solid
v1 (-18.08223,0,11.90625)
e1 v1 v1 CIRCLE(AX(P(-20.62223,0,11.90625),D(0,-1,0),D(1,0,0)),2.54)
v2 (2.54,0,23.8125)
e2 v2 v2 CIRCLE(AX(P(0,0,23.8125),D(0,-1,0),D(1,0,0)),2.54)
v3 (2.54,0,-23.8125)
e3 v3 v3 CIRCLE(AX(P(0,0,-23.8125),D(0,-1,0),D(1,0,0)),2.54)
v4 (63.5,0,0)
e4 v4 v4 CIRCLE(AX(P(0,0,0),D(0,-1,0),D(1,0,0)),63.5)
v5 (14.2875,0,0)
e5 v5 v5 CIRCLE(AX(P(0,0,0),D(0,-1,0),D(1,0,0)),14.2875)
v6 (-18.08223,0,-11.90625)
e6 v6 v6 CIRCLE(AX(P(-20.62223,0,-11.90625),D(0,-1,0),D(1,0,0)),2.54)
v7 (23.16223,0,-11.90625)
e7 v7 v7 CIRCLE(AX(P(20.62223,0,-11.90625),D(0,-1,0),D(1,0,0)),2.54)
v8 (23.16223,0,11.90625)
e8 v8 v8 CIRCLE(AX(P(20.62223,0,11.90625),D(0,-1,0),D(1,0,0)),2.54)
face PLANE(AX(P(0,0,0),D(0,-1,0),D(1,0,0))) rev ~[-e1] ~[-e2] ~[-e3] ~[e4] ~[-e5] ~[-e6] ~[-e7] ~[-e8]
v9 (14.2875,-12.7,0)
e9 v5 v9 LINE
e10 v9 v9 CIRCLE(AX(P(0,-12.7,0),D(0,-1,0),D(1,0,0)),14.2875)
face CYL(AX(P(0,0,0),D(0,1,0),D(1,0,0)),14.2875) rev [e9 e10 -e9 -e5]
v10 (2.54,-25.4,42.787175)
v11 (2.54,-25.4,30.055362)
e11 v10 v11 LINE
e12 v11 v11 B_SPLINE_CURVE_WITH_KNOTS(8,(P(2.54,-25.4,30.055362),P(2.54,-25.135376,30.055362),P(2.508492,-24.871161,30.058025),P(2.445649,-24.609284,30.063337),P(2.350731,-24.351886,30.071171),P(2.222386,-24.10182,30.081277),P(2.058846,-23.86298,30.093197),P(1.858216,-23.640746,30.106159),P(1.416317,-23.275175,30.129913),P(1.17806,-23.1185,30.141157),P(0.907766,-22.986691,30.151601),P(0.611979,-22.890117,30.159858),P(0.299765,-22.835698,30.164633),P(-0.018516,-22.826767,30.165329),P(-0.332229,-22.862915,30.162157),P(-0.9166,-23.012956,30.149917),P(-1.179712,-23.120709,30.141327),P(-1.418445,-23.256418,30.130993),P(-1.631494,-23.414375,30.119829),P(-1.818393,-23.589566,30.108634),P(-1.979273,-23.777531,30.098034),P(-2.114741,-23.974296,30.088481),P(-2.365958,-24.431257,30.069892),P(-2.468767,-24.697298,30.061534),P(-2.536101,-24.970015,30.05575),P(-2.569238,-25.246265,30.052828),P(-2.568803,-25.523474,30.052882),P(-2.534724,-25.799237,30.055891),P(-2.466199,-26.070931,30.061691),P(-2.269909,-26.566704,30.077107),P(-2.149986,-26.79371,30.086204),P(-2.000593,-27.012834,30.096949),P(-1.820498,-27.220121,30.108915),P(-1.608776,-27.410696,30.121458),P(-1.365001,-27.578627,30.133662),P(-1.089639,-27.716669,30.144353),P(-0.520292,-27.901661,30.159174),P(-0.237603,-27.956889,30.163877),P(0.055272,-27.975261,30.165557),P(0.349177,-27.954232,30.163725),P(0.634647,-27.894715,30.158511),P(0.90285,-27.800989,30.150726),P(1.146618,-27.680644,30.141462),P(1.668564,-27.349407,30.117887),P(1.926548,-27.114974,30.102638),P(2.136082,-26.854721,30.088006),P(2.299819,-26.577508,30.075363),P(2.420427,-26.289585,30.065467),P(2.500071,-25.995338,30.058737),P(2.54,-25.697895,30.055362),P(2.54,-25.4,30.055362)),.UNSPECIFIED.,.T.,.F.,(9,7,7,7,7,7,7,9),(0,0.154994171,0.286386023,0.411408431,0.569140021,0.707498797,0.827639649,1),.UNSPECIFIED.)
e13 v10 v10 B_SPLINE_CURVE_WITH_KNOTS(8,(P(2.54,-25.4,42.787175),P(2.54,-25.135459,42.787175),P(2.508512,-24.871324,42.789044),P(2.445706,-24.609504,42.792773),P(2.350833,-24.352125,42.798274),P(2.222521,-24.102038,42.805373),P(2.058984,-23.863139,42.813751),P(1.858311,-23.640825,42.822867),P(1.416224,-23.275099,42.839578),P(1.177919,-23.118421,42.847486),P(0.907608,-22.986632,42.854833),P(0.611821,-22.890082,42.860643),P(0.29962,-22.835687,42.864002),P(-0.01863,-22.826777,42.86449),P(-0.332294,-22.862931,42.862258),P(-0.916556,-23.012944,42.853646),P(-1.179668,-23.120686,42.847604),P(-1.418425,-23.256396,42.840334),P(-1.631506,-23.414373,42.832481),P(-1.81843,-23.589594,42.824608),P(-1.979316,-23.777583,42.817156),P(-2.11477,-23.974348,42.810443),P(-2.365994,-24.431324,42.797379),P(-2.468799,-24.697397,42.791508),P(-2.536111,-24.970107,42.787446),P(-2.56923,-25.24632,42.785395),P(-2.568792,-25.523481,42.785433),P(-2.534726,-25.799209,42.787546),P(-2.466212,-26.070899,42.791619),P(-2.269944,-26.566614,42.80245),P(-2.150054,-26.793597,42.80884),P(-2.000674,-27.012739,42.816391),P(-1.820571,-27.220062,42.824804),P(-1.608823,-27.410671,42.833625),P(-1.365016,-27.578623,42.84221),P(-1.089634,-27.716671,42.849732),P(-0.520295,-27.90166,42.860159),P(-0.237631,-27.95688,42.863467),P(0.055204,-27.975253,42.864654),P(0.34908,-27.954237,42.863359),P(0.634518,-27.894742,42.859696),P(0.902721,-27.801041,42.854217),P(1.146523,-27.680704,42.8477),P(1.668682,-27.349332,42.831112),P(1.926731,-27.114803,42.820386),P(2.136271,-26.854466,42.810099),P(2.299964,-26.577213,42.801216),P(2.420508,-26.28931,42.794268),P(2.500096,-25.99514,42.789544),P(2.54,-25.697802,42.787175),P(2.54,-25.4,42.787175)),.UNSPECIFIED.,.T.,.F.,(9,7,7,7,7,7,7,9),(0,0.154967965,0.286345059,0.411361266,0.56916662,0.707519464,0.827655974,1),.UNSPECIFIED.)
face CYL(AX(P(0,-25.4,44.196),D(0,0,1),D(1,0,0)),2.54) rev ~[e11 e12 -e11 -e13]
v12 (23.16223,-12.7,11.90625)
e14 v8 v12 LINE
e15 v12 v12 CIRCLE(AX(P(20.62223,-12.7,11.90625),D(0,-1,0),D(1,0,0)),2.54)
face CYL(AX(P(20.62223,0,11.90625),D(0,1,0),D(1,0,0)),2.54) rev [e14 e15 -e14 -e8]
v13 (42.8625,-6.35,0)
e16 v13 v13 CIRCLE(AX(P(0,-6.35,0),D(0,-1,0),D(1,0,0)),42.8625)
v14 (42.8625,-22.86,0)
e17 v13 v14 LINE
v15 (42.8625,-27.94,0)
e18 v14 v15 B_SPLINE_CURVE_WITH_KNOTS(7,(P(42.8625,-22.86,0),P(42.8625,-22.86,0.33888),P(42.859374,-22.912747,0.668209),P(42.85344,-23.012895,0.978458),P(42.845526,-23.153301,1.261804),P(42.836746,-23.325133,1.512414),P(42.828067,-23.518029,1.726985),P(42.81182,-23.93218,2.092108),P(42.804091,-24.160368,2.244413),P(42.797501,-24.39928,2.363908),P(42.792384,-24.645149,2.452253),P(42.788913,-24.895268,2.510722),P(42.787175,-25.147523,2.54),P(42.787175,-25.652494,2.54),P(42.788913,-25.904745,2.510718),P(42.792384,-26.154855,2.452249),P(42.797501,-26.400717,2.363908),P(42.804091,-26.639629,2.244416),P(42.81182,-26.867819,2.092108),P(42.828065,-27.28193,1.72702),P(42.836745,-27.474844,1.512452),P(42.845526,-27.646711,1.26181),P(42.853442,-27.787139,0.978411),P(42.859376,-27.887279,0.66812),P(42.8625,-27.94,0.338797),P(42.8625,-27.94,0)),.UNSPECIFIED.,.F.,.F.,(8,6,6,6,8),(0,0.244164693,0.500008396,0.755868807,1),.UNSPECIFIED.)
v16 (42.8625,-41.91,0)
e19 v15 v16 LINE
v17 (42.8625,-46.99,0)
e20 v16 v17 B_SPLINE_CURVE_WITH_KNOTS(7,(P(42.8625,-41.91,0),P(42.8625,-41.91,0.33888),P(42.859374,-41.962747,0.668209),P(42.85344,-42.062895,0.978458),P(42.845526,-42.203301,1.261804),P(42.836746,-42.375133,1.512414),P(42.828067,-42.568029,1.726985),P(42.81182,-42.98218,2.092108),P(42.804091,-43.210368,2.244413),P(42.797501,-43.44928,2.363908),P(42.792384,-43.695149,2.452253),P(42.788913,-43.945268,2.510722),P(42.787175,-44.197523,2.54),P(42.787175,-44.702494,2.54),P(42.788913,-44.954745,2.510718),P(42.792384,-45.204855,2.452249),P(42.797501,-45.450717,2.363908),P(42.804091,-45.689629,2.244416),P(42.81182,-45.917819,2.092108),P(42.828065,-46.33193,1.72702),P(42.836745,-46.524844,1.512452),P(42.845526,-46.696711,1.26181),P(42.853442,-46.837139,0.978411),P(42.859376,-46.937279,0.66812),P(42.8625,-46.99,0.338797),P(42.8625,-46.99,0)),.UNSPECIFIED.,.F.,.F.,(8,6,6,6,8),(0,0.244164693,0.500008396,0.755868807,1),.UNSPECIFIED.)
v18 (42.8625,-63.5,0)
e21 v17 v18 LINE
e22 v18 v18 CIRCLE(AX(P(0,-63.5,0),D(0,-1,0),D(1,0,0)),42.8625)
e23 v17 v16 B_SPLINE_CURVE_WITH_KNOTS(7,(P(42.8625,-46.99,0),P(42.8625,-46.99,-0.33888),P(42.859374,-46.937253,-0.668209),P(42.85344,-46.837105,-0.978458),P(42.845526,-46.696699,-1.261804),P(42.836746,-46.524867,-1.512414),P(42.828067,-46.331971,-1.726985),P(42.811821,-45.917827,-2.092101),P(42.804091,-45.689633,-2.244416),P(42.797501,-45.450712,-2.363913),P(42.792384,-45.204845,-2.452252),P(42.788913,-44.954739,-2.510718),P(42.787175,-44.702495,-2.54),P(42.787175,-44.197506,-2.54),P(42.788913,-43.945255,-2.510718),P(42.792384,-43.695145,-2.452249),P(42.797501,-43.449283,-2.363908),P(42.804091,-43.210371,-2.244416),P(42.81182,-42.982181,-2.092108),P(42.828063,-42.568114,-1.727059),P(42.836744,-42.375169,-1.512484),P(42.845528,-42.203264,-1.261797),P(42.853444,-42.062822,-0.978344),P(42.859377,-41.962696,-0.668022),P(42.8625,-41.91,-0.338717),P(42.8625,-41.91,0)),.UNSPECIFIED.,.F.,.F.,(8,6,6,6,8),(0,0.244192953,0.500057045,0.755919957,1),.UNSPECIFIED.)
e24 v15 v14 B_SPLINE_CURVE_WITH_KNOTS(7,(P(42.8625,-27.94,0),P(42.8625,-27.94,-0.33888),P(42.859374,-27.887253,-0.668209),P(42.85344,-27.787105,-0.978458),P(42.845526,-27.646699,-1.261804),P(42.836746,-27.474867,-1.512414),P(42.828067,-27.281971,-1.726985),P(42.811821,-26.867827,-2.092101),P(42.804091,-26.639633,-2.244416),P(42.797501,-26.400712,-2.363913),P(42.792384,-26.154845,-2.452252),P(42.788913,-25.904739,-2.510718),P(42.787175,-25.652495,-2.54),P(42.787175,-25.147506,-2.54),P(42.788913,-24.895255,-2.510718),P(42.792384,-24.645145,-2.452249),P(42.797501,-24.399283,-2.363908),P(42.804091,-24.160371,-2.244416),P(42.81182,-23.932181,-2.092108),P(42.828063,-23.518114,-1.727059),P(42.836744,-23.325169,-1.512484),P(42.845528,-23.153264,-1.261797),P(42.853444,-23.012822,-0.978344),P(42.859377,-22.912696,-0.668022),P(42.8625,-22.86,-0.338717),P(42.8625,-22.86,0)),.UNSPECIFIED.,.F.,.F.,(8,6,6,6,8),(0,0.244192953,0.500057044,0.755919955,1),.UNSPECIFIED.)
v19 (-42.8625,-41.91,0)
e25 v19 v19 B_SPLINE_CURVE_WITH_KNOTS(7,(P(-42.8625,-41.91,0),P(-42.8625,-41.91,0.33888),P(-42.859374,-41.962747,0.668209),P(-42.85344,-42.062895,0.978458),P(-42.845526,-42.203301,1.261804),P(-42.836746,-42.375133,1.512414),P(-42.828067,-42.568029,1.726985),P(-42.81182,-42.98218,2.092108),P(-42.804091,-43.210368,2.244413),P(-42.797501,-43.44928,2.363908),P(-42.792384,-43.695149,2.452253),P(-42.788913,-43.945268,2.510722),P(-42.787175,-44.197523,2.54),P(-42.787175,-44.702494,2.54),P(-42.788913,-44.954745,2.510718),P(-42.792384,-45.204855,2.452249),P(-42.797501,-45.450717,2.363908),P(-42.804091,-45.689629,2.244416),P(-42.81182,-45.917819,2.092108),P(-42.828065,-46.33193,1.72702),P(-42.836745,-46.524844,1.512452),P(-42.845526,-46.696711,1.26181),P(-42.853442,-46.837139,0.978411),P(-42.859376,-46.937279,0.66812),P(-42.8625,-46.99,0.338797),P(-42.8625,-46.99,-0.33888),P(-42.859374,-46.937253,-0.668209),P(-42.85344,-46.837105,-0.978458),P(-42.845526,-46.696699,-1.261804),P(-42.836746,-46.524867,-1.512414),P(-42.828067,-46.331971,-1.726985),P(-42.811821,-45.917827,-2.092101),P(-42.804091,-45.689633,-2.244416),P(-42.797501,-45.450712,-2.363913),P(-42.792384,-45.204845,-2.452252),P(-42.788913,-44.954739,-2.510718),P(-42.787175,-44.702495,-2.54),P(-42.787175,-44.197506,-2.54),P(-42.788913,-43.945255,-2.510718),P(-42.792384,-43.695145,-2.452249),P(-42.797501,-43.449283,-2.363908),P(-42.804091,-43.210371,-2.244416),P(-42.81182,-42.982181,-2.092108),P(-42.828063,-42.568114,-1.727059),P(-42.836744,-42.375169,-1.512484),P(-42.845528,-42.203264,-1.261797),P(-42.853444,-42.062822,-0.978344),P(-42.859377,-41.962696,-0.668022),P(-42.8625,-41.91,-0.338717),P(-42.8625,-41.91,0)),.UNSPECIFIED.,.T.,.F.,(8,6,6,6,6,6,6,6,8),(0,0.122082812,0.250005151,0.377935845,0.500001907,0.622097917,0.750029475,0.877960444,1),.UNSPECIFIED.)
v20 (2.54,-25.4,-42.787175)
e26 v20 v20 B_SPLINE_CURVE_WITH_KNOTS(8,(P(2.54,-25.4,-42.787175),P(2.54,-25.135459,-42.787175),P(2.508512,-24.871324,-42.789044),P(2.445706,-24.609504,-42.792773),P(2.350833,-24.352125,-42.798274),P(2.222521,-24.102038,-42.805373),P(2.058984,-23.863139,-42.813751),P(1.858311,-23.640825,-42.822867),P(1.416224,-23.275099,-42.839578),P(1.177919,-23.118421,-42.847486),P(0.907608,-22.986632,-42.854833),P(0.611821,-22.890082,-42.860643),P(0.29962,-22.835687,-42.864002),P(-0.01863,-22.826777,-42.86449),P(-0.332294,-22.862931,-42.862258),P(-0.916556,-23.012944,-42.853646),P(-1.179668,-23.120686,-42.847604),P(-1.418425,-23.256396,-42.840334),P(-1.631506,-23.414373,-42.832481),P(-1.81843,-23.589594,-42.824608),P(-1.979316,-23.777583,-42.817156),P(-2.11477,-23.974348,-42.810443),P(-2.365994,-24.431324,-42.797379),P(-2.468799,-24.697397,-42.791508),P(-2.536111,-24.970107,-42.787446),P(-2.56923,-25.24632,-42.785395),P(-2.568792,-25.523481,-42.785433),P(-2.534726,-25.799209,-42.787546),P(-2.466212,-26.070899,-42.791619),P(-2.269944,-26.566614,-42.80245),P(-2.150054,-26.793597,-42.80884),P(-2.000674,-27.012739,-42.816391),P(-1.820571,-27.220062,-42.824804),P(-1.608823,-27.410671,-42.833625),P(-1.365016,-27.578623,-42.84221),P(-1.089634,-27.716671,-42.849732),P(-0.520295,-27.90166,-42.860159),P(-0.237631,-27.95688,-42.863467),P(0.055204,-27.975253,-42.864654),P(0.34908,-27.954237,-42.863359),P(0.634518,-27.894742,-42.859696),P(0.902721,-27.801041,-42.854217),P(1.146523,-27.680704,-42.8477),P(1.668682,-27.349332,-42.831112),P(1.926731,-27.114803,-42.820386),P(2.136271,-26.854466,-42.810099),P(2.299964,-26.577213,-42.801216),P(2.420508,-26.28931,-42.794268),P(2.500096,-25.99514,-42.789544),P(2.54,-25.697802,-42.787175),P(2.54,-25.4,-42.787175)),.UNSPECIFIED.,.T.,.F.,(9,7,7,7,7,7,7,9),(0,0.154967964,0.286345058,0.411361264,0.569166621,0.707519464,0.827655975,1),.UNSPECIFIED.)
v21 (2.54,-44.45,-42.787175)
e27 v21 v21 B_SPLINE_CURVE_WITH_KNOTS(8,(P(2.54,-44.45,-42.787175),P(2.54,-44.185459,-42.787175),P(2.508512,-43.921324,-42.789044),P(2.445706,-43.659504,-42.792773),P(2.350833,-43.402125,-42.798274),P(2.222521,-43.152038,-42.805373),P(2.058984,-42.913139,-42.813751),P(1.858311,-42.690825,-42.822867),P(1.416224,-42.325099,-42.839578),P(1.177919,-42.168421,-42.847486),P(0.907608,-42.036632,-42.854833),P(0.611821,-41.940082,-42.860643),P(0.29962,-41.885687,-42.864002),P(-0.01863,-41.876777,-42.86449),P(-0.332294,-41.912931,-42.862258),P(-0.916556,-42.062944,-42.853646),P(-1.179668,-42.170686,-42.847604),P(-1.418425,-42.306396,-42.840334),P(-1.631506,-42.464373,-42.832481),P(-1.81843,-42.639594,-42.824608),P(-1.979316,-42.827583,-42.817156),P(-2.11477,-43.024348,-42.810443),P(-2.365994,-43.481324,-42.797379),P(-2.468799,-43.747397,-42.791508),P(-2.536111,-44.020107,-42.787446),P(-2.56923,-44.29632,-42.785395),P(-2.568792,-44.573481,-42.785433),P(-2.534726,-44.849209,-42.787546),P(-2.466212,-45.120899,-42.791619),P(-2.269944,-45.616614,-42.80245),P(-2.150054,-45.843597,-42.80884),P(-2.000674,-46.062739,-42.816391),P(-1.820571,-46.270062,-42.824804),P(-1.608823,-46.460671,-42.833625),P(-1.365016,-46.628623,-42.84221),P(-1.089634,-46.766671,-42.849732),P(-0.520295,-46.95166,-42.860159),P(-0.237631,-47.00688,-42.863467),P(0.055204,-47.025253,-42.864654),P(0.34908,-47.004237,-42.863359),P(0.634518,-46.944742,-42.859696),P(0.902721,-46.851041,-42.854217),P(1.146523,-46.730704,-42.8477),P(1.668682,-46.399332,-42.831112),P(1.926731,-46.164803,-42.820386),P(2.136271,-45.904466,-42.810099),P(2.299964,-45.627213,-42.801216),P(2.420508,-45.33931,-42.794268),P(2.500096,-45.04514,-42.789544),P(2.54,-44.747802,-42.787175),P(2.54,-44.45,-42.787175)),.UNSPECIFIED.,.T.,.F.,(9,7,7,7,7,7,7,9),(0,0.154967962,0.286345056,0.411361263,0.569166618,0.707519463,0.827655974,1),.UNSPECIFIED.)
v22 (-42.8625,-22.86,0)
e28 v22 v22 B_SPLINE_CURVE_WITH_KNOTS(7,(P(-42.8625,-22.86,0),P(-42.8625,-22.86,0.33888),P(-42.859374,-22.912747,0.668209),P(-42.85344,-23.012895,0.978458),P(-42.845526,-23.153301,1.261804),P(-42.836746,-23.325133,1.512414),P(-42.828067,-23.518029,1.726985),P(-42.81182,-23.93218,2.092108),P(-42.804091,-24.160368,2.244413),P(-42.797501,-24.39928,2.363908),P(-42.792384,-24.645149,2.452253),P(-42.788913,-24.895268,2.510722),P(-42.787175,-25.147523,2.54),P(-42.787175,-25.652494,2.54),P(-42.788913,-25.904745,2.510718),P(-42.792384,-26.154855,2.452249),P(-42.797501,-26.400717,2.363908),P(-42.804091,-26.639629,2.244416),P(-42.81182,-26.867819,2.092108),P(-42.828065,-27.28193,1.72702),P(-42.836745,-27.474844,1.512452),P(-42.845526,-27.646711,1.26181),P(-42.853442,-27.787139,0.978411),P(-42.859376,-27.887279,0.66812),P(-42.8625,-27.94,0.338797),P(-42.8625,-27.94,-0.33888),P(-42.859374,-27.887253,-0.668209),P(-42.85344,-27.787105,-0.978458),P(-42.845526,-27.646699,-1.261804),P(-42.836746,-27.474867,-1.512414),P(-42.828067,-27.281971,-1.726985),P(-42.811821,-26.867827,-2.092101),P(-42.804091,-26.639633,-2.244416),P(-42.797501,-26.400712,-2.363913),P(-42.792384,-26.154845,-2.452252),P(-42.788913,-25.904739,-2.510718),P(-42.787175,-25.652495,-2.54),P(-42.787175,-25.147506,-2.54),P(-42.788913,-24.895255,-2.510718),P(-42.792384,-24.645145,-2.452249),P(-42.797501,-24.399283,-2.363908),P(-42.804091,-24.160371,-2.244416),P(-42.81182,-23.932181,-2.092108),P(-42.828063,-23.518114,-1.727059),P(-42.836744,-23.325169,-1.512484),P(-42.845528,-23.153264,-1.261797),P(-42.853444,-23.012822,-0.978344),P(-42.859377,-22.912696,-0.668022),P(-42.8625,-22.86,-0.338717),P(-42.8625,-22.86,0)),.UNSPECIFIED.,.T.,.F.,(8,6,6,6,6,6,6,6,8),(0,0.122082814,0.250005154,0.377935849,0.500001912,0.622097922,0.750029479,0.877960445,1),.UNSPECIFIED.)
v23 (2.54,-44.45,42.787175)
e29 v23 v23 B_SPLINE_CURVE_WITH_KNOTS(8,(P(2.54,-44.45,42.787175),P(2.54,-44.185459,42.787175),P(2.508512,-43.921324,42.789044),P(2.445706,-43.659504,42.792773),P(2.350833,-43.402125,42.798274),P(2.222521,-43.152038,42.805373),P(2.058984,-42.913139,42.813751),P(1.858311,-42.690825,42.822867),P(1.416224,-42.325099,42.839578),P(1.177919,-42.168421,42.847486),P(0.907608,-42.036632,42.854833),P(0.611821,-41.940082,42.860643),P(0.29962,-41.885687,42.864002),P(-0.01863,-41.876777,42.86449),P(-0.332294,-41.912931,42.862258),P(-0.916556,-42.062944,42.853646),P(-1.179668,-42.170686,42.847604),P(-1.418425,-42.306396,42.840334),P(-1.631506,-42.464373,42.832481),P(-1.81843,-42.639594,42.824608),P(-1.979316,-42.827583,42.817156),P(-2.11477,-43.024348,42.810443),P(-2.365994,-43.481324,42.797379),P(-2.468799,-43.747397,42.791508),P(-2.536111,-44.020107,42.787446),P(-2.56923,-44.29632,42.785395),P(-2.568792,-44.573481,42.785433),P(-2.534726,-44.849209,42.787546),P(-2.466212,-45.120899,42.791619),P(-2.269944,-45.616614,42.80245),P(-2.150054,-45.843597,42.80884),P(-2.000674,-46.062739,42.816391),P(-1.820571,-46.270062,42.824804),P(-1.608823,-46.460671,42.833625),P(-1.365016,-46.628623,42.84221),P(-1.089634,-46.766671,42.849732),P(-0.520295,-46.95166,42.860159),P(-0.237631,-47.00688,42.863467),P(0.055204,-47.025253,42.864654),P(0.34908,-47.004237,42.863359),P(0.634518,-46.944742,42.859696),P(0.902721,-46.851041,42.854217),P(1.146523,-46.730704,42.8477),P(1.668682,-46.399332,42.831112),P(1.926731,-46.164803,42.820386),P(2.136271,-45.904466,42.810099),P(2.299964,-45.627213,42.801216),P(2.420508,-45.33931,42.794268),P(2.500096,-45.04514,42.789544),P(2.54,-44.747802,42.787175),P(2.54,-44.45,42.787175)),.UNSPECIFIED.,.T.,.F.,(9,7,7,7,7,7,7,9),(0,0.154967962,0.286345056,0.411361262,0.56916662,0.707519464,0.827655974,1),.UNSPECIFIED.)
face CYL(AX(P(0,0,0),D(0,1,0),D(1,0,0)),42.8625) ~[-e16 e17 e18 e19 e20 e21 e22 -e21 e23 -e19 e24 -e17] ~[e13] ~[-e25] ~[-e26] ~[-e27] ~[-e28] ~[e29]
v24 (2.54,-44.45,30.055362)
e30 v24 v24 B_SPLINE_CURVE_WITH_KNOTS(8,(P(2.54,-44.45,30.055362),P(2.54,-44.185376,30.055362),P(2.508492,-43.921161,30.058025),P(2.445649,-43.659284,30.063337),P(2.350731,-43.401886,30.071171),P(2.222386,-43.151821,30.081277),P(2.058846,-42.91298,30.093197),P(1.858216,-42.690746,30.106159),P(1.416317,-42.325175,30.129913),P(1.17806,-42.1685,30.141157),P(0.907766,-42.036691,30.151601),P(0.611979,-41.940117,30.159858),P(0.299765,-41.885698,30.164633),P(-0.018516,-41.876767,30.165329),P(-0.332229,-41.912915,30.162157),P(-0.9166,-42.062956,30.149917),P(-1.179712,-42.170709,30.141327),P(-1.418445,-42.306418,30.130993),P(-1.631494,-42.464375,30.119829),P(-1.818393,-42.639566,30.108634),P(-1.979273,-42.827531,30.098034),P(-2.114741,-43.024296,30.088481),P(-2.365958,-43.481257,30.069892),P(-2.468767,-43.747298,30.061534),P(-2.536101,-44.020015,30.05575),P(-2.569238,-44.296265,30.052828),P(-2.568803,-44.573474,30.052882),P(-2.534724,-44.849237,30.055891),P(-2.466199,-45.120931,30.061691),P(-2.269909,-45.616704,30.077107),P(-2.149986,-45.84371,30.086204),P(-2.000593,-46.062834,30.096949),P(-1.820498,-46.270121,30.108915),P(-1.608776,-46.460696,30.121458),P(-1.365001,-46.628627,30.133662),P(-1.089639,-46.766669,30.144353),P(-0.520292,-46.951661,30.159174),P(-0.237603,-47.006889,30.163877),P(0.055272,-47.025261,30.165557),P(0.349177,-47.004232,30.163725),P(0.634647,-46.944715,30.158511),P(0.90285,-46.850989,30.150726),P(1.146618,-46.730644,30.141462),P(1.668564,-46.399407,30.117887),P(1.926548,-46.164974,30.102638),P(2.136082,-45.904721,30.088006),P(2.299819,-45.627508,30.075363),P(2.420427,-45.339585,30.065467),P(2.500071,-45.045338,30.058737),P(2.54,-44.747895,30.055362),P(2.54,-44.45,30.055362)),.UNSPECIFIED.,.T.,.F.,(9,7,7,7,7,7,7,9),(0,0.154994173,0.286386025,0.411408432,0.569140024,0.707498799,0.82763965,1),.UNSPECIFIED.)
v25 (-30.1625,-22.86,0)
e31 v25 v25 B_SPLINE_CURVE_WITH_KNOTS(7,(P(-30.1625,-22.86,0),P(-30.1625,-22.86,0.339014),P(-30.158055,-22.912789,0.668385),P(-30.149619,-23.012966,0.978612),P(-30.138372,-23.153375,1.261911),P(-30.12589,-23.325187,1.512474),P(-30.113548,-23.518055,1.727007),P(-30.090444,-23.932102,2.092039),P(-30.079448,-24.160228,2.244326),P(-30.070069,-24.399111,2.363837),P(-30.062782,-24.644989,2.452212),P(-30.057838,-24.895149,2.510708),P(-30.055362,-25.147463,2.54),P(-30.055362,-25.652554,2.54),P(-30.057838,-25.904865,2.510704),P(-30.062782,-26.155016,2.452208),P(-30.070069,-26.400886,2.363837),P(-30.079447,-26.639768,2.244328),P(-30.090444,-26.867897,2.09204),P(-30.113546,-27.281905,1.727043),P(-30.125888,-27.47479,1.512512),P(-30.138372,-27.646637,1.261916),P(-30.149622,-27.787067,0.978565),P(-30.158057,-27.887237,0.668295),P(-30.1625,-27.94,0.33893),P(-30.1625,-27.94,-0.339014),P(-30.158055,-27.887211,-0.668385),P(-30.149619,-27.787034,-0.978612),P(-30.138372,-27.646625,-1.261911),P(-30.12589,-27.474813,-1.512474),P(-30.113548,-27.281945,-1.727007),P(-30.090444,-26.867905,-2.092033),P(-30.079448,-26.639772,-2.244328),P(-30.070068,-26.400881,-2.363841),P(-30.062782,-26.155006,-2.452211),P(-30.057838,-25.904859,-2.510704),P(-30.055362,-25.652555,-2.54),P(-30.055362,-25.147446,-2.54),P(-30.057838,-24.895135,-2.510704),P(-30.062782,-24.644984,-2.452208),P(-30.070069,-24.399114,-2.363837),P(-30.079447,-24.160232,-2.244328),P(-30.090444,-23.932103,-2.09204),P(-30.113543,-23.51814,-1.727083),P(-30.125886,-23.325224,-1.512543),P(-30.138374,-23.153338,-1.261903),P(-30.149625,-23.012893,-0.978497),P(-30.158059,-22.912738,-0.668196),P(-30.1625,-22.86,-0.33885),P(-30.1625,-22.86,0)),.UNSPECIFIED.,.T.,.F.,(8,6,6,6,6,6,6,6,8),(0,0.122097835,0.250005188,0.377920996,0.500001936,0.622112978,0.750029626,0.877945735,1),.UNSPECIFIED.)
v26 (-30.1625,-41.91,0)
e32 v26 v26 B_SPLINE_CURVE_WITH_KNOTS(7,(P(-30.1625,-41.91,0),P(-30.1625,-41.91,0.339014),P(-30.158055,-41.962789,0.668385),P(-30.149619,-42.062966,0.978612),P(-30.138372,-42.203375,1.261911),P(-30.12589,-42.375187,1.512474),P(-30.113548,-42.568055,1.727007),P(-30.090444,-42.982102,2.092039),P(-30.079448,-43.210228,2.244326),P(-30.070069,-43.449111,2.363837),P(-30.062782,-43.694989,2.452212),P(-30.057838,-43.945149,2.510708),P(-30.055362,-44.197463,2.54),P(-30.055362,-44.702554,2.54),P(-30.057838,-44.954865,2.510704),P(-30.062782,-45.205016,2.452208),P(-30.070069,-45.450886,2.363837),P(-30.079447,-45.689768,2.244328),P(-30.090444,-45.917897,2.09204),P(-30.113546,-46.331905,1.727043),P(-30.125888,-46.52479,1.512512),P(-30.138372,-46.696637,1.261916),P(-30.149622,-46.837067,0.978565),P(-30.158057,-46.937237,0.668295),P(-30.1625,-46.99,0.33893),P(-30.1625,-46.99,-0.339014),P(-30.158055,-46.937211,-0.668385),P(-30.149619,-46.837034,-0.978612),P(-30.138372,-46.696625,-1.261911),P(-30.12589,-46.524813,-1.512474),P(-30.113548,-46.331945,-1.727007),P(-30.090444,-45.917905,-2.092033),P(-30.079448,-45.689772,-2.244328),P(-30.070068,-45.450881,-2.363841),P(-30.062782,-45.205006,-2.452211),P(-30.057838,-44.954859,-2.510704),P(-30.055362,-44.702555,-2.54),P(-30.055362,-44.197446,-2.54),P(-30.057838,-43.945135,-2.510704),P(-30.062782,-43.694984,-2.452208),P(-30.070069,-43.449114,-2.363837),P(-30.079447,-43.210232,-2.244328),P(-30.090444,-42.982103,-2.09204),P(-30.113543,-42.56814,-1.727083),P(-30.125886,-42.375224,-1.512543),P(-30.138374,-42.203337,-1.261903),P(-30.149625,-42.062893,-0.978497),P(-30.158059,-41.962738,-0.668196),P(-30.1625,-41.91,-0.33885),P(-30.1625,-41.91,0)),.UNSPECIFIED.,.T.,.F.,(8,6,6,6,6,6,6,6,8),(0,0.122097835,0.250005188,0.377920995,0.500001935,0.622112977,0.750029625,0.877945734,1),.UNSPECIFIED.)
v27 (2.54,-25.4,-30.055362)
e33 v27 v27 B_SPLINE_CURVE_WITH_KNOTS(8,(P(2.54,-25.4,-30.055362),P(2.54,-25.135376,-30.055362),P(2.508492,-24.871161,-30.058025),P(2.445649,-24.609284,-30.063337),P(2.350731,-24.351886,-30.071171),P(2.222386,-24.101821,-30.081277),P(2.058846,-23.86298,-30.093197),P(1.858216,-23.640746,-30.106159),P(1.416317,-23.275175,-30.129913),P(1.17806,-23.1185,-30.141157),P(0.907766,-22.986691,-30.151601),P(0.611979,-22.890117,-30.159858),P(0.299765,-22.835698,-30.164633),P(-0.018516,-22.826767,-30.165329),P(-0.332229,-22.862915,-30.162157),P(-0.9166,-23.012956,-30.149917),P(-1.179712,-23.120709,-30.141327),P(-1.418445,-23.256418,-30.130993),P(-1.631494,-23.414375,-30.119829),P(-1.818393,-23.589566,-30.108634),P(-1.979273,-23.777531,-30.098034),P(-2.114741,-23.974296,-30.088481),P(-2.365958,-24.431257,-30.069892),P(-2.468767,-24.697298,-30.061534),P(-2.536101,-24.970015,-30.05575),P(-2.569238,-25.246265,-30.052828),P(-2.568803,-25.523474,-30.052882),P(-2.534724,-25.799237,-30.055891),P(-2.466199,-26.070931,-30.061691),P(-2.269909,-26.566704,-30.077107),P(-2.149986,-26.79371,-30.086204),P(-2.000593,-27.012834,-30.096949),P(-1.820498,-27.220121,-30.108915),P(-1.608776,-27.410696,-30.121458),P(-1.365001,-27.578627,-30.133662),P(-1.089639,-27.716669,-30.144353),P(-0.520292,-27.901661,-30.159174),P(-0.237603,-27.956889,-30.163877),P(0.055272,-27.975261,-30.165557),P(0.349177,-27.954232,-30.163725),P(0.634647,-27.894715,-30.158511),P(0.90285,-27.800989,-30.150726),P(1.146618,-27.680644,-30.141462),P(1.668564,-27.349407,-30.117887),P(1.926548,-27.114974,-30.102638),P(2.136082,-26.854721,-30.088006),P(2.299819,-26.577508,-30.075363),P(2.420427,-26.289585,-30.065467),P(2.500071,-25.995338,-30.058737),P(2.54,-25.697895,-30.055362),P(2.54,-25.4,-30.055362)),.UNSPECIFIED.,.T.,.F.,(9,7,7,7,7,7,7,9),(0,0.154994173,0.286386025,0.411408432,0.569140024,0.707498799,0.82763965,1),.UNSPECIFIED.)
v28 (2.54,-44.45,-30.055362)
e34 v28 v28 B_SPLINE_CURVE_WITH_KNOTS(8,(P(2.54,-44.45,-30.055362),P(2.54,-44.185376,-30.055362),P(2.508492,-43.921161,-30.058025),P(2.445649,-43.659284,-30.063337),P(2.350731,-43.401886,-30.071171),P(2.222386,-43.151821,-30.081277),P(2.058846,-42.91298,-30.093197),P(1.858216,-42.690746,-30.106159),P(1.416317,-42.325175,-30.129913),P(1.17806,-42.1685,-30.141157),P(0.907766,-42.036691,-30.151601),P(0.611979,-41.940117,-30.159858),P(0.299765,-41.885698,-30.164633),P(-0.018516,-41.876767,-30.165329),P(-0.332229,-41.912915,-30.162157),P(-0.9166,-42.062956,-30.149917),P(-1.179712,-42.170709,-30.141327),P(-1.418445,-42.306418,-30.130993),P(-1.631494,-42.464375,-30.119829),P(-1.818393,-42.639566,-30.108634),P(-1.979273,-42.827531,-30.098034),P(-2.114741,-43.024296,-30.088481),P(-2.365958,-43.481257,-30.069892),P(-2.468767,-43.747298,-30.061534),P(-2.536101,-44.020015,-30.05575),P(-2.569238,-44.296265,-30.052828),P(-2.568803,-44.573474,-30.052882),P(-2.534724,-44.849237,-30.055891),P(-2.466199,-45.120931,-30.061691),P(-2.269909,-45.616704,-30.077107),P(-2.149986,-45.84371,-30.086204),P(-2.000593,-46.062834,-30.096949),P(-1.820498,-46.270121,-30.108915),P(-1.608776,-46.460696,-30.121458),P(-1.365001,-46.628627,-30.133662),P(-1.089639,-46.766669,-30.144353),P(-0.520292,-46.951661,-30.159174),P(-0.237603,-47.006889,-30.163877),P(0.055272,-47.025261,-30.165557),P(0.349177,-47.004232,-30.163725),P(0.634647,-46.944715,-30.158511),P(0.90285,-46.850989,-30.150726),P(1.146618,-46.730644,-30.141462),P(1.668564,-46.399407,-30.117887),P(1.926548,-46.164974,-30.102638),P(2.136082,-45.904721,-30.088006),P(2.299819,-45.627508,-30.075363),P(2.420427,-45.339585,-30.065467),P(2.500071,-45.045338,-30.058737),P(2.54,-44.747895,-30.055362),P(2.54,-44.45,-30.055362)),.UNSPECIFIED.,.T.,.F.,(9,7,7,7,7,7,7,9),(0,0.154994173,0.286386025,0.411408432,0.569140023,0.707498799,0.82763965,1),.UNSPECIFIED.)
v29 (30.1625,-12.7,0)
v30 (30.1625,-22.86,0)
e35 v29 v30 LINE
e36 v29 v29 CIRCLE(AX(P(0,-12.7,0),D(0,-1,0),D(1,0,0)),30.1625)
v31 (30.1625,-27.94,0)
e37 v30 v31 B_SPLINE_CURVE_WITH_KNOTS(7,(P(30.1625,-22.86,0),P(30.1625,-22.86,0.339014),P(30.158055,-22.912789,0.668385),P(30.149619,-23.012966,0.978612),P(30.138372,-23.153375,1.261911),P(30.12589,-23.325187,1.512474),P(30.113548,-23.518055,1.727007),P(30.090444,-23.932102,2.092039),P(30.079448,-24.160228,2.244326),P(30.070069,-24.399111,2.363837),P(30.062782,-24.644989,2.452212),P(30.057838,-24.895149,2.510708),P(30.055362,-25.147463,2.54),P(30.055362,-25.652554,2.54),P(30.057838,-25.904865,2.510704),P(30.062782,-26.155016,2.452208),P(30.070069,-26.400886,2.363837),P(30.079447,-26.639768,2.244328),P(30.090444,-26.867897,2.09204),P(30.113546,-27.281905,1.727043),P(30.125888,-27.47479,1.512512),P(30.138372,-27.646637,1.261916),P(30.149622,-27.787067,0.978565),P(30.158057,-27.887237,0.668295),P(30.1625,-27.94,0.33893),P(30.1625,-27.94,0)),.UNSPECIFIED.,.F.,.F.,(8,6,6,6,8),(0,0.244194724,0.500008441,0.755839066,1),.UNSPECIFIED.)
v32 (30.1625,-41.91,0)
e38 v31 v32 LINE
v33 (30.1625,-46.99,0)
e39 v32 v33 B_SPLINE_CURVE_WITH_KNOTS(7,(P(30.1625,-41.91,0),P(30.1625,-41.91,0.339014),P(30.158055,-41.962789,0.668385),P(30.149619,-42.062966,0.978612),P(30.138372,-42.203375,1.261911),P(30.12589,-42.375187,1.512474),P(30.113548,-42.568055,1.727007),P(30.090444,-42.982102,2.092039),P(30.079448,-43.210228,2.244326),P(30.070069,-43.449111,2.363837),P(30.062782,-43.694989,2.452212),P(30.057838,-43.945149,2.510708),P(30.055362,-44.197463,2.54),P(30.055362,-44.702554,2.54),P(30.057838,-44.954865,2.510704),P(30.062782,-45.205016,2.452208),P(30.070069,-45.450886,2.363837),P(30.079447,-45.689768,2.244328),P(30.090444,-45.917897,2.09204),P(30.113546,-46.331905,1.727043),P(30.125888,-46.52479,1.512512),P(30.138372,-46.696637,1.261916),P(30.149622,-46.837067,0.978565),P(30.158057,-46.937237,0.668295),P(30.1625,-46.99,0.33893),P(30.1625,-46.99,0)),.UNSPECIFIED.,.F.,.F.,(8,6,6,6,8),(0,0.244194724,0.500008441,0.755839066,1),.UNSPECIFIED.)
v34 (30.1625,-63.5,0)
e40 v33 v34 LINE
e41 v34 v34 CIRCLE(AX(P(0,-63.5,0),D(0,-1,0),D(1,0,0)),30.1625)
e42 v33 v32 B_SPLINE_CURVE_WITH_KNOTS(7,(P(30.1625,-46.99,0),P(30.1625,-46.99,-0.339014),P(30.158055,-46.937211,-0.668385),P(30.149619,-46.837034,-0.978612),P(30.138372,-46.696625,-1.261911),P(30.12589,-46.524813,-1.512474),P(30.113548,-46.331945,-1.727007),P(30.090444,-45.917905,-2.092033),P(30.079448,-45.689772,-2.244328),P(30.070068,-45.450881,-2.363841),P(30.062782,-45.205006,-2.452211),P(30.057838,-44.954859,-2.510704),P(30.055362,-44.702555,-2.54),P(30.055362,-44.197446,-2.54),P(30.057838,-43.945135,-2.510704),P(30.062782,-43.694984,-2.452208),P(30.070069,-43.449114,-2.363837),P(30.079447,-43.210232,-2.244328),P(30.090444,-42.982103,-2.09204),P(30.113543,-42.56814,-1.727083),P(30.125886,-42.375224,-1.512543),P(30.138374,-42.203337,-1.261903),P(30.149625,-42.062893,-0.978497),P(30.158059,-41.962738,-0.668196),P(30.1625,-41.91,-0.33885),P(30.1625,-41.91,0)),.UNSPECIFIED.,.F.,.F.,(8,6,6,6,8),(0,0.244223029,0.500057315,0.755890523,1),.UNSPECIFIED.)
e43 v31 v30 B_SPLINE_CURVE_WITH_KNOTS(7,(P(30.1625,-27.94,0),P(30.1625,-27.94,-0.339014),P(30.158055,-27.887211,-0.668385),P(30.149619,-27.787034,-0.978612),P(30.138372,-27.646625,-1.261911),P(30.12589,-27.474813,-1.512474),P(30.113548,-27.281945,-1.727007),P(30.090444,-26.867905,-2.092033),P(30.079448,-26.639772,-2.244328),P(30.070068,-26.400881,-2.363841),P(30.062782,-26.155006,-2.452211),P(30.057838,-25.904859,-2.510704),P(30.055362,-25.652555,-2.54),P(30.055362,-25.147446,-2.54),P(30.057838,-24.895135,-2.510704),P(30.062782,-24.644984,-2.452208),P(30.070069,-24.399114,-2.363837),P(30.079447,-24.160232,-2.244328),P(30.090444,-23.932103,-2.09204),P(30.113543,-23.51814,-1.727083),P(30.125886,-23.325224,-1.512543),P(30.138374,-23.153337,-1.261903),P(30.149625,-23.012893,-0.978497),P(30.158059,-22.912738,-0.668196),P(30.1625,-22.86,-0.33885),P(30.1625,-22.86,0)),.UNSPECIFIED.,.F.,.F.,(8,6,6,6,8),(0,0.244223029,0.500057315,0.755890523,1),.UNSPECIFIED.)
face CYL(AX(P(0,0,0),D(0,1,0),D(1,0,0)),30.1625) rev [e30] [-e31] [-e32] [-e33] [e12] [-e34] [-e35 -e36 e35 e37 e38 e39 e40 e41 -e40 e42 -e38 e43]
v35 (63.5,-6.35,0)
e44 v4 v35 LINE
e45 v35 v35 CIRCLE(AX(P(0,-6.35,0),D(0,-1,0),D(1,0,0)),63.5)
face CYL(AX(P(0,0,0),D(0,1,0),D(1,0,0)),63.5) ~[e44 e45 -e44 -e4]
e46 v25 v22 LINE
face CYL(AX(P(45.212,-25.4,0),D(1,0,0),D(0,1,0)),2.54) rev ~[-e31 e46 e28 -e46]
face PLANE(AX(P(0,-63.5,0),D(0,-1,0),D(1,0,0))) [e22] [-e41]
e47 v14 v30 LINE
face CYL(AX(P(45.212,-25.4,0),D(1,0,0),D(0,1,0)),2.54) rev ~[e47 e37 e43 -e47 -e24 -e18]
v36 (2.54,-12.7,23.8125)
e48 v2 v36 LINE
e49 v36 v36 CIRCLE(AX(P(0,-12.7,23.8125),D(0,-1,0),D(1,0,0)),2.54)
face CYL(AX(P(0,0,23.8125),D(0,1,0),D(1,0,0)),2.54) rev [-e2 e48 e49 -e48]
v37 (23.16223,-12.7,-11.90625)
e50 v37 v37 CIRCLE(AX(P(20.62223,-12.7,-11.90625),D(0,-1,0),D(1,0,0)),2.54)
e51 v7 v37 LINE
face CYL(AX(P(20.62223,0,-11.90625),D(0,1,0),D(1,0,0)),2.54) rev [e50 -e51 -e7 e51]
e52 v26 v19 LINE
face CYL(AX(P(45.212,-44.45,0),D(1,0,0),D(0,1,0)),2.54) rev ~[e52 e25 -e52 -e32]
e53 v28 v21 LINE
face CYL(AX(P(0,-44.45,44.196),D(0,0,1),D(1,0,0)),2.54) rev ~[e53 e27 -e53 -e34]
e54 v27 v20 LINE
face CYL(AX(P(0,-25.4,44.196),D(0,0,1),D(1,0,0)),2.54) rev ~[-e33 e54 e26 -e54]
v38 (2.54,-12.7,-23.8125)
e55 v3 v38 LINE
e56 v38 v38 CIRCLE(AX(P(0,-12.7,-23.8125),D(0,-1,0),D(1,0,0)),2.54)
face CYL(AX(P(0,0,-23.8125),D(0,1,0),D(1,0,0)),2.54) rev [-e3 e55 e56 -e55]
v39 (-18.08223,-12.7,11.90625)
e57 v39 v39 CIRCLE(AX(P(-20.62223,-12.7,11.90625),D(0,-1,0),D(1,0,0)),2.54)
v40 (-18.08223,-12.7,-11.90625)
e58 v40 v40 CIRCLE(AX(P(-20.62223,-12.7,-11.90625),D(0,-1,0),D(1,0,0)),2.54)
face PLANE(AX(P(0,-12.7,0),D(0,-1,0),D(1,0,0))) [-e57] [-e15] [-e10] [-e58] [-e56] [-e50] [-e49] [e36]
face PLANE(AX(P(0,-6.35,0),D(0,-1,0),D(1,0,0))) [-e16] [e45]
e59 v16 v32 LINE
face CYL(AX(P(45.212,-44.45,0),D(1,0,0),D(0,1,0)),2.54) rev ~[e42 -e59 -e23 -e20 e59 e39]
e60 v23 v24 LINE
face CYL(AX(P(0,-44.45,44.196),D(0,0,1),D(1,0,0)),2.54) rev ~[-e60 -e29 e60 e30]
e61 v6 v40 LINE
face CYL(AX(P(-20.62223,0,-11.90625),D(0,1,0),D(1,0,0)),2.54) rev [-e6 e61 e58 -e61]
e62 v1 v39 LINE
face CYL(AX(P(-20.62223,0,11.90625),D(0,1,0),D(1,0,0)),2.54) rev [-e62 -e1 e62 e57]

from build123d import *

# Parameters (mm, degrees)
F0_R     = 42.8625
F0_R_2   = 30.1625
F1_DEPTH = 63.5
F0_R_3   = 63.5
F2_DEPTH = 6.35
F0_R_4   = 2.54
F0_R_5   = 14.2875
F3_DEPTH = 12.7
F5_R     = 2.54
F6_DEPTH = 101.6
F8_R     = 2.54
F9_DEPTH = 101.6


with BuildPart() as f1:
    # F0 (on Front) → F1 (new body)
    with BuildSketch(Plane.XZ):
        Circle(F0_R)
        Circle(F0_R_2, mode=Mode.SUBTRACT)
    extrude(amount=F1_DEPTH)

    # F0 (on Front) → F2 (join)
    with BuildSketch(Plane.XZ):
        Circle(F0_R_3)
        Circle(F0_R, mode=Mode.SUBTRACT)
    extrude(amount=F2_DEPTH)

    # F0 (on Front) → F3 (join)
    with BuildSketch(Plane.XZ):
        Circle(F0_R_2)
        with Locations((-20.62223, -11.90625)):
            Circle(F0_R_4, mode=Mode.SUBTRACT)
        with Locations((0, -23.8125)):
            Circle(F0_R_4, mode=Mode.SUBTRACT)
        with Locations((20.62223, -11.90625)):
            Circle(F0_R_4, mode=Mode.SUBTRACT)
        with Locations((-20.62223, 11.90625)):
            Circle(F0_R_4, mode=Mode.SUBTRACT)
        Circle(F0_R_5, mode=Mode.SUBTRACT)
        with Locations((20.62223, 11.90625)):
            Circle(F0_R_4, mode=Mode.SUBTRACT)
        with Locations((0, 23.8125)):
            Circle(F0_R_4, mode=Mode.SUBTRACT)
    extrude(amount=F3_DEPTH)

    # F5 (on offset) → F6 (cut)
    with BuildSketch(Plane.YZ.offset(45.212)):
        with Locations((-25.4, 0)):
            Circle(F5_R)
        with Locations((-44.45, 0)):
            Circle(F5_R)
    extrude(amount=-F6_DEPTH, mode=Mode.SUBTRACT)

    # F8 (on offset) → F9 (cut)
    with BuildSketch(Plane.XY.offset(44.196)):
        with Locations((0, -25.4)):
            Circle(F8_R)
        with Locations((0, -44.45)):
            Circle(F8_R)
    extrude(amount=-F9_DEPTH, mode=Mode.SUBTRACT)


solid = f1.part
